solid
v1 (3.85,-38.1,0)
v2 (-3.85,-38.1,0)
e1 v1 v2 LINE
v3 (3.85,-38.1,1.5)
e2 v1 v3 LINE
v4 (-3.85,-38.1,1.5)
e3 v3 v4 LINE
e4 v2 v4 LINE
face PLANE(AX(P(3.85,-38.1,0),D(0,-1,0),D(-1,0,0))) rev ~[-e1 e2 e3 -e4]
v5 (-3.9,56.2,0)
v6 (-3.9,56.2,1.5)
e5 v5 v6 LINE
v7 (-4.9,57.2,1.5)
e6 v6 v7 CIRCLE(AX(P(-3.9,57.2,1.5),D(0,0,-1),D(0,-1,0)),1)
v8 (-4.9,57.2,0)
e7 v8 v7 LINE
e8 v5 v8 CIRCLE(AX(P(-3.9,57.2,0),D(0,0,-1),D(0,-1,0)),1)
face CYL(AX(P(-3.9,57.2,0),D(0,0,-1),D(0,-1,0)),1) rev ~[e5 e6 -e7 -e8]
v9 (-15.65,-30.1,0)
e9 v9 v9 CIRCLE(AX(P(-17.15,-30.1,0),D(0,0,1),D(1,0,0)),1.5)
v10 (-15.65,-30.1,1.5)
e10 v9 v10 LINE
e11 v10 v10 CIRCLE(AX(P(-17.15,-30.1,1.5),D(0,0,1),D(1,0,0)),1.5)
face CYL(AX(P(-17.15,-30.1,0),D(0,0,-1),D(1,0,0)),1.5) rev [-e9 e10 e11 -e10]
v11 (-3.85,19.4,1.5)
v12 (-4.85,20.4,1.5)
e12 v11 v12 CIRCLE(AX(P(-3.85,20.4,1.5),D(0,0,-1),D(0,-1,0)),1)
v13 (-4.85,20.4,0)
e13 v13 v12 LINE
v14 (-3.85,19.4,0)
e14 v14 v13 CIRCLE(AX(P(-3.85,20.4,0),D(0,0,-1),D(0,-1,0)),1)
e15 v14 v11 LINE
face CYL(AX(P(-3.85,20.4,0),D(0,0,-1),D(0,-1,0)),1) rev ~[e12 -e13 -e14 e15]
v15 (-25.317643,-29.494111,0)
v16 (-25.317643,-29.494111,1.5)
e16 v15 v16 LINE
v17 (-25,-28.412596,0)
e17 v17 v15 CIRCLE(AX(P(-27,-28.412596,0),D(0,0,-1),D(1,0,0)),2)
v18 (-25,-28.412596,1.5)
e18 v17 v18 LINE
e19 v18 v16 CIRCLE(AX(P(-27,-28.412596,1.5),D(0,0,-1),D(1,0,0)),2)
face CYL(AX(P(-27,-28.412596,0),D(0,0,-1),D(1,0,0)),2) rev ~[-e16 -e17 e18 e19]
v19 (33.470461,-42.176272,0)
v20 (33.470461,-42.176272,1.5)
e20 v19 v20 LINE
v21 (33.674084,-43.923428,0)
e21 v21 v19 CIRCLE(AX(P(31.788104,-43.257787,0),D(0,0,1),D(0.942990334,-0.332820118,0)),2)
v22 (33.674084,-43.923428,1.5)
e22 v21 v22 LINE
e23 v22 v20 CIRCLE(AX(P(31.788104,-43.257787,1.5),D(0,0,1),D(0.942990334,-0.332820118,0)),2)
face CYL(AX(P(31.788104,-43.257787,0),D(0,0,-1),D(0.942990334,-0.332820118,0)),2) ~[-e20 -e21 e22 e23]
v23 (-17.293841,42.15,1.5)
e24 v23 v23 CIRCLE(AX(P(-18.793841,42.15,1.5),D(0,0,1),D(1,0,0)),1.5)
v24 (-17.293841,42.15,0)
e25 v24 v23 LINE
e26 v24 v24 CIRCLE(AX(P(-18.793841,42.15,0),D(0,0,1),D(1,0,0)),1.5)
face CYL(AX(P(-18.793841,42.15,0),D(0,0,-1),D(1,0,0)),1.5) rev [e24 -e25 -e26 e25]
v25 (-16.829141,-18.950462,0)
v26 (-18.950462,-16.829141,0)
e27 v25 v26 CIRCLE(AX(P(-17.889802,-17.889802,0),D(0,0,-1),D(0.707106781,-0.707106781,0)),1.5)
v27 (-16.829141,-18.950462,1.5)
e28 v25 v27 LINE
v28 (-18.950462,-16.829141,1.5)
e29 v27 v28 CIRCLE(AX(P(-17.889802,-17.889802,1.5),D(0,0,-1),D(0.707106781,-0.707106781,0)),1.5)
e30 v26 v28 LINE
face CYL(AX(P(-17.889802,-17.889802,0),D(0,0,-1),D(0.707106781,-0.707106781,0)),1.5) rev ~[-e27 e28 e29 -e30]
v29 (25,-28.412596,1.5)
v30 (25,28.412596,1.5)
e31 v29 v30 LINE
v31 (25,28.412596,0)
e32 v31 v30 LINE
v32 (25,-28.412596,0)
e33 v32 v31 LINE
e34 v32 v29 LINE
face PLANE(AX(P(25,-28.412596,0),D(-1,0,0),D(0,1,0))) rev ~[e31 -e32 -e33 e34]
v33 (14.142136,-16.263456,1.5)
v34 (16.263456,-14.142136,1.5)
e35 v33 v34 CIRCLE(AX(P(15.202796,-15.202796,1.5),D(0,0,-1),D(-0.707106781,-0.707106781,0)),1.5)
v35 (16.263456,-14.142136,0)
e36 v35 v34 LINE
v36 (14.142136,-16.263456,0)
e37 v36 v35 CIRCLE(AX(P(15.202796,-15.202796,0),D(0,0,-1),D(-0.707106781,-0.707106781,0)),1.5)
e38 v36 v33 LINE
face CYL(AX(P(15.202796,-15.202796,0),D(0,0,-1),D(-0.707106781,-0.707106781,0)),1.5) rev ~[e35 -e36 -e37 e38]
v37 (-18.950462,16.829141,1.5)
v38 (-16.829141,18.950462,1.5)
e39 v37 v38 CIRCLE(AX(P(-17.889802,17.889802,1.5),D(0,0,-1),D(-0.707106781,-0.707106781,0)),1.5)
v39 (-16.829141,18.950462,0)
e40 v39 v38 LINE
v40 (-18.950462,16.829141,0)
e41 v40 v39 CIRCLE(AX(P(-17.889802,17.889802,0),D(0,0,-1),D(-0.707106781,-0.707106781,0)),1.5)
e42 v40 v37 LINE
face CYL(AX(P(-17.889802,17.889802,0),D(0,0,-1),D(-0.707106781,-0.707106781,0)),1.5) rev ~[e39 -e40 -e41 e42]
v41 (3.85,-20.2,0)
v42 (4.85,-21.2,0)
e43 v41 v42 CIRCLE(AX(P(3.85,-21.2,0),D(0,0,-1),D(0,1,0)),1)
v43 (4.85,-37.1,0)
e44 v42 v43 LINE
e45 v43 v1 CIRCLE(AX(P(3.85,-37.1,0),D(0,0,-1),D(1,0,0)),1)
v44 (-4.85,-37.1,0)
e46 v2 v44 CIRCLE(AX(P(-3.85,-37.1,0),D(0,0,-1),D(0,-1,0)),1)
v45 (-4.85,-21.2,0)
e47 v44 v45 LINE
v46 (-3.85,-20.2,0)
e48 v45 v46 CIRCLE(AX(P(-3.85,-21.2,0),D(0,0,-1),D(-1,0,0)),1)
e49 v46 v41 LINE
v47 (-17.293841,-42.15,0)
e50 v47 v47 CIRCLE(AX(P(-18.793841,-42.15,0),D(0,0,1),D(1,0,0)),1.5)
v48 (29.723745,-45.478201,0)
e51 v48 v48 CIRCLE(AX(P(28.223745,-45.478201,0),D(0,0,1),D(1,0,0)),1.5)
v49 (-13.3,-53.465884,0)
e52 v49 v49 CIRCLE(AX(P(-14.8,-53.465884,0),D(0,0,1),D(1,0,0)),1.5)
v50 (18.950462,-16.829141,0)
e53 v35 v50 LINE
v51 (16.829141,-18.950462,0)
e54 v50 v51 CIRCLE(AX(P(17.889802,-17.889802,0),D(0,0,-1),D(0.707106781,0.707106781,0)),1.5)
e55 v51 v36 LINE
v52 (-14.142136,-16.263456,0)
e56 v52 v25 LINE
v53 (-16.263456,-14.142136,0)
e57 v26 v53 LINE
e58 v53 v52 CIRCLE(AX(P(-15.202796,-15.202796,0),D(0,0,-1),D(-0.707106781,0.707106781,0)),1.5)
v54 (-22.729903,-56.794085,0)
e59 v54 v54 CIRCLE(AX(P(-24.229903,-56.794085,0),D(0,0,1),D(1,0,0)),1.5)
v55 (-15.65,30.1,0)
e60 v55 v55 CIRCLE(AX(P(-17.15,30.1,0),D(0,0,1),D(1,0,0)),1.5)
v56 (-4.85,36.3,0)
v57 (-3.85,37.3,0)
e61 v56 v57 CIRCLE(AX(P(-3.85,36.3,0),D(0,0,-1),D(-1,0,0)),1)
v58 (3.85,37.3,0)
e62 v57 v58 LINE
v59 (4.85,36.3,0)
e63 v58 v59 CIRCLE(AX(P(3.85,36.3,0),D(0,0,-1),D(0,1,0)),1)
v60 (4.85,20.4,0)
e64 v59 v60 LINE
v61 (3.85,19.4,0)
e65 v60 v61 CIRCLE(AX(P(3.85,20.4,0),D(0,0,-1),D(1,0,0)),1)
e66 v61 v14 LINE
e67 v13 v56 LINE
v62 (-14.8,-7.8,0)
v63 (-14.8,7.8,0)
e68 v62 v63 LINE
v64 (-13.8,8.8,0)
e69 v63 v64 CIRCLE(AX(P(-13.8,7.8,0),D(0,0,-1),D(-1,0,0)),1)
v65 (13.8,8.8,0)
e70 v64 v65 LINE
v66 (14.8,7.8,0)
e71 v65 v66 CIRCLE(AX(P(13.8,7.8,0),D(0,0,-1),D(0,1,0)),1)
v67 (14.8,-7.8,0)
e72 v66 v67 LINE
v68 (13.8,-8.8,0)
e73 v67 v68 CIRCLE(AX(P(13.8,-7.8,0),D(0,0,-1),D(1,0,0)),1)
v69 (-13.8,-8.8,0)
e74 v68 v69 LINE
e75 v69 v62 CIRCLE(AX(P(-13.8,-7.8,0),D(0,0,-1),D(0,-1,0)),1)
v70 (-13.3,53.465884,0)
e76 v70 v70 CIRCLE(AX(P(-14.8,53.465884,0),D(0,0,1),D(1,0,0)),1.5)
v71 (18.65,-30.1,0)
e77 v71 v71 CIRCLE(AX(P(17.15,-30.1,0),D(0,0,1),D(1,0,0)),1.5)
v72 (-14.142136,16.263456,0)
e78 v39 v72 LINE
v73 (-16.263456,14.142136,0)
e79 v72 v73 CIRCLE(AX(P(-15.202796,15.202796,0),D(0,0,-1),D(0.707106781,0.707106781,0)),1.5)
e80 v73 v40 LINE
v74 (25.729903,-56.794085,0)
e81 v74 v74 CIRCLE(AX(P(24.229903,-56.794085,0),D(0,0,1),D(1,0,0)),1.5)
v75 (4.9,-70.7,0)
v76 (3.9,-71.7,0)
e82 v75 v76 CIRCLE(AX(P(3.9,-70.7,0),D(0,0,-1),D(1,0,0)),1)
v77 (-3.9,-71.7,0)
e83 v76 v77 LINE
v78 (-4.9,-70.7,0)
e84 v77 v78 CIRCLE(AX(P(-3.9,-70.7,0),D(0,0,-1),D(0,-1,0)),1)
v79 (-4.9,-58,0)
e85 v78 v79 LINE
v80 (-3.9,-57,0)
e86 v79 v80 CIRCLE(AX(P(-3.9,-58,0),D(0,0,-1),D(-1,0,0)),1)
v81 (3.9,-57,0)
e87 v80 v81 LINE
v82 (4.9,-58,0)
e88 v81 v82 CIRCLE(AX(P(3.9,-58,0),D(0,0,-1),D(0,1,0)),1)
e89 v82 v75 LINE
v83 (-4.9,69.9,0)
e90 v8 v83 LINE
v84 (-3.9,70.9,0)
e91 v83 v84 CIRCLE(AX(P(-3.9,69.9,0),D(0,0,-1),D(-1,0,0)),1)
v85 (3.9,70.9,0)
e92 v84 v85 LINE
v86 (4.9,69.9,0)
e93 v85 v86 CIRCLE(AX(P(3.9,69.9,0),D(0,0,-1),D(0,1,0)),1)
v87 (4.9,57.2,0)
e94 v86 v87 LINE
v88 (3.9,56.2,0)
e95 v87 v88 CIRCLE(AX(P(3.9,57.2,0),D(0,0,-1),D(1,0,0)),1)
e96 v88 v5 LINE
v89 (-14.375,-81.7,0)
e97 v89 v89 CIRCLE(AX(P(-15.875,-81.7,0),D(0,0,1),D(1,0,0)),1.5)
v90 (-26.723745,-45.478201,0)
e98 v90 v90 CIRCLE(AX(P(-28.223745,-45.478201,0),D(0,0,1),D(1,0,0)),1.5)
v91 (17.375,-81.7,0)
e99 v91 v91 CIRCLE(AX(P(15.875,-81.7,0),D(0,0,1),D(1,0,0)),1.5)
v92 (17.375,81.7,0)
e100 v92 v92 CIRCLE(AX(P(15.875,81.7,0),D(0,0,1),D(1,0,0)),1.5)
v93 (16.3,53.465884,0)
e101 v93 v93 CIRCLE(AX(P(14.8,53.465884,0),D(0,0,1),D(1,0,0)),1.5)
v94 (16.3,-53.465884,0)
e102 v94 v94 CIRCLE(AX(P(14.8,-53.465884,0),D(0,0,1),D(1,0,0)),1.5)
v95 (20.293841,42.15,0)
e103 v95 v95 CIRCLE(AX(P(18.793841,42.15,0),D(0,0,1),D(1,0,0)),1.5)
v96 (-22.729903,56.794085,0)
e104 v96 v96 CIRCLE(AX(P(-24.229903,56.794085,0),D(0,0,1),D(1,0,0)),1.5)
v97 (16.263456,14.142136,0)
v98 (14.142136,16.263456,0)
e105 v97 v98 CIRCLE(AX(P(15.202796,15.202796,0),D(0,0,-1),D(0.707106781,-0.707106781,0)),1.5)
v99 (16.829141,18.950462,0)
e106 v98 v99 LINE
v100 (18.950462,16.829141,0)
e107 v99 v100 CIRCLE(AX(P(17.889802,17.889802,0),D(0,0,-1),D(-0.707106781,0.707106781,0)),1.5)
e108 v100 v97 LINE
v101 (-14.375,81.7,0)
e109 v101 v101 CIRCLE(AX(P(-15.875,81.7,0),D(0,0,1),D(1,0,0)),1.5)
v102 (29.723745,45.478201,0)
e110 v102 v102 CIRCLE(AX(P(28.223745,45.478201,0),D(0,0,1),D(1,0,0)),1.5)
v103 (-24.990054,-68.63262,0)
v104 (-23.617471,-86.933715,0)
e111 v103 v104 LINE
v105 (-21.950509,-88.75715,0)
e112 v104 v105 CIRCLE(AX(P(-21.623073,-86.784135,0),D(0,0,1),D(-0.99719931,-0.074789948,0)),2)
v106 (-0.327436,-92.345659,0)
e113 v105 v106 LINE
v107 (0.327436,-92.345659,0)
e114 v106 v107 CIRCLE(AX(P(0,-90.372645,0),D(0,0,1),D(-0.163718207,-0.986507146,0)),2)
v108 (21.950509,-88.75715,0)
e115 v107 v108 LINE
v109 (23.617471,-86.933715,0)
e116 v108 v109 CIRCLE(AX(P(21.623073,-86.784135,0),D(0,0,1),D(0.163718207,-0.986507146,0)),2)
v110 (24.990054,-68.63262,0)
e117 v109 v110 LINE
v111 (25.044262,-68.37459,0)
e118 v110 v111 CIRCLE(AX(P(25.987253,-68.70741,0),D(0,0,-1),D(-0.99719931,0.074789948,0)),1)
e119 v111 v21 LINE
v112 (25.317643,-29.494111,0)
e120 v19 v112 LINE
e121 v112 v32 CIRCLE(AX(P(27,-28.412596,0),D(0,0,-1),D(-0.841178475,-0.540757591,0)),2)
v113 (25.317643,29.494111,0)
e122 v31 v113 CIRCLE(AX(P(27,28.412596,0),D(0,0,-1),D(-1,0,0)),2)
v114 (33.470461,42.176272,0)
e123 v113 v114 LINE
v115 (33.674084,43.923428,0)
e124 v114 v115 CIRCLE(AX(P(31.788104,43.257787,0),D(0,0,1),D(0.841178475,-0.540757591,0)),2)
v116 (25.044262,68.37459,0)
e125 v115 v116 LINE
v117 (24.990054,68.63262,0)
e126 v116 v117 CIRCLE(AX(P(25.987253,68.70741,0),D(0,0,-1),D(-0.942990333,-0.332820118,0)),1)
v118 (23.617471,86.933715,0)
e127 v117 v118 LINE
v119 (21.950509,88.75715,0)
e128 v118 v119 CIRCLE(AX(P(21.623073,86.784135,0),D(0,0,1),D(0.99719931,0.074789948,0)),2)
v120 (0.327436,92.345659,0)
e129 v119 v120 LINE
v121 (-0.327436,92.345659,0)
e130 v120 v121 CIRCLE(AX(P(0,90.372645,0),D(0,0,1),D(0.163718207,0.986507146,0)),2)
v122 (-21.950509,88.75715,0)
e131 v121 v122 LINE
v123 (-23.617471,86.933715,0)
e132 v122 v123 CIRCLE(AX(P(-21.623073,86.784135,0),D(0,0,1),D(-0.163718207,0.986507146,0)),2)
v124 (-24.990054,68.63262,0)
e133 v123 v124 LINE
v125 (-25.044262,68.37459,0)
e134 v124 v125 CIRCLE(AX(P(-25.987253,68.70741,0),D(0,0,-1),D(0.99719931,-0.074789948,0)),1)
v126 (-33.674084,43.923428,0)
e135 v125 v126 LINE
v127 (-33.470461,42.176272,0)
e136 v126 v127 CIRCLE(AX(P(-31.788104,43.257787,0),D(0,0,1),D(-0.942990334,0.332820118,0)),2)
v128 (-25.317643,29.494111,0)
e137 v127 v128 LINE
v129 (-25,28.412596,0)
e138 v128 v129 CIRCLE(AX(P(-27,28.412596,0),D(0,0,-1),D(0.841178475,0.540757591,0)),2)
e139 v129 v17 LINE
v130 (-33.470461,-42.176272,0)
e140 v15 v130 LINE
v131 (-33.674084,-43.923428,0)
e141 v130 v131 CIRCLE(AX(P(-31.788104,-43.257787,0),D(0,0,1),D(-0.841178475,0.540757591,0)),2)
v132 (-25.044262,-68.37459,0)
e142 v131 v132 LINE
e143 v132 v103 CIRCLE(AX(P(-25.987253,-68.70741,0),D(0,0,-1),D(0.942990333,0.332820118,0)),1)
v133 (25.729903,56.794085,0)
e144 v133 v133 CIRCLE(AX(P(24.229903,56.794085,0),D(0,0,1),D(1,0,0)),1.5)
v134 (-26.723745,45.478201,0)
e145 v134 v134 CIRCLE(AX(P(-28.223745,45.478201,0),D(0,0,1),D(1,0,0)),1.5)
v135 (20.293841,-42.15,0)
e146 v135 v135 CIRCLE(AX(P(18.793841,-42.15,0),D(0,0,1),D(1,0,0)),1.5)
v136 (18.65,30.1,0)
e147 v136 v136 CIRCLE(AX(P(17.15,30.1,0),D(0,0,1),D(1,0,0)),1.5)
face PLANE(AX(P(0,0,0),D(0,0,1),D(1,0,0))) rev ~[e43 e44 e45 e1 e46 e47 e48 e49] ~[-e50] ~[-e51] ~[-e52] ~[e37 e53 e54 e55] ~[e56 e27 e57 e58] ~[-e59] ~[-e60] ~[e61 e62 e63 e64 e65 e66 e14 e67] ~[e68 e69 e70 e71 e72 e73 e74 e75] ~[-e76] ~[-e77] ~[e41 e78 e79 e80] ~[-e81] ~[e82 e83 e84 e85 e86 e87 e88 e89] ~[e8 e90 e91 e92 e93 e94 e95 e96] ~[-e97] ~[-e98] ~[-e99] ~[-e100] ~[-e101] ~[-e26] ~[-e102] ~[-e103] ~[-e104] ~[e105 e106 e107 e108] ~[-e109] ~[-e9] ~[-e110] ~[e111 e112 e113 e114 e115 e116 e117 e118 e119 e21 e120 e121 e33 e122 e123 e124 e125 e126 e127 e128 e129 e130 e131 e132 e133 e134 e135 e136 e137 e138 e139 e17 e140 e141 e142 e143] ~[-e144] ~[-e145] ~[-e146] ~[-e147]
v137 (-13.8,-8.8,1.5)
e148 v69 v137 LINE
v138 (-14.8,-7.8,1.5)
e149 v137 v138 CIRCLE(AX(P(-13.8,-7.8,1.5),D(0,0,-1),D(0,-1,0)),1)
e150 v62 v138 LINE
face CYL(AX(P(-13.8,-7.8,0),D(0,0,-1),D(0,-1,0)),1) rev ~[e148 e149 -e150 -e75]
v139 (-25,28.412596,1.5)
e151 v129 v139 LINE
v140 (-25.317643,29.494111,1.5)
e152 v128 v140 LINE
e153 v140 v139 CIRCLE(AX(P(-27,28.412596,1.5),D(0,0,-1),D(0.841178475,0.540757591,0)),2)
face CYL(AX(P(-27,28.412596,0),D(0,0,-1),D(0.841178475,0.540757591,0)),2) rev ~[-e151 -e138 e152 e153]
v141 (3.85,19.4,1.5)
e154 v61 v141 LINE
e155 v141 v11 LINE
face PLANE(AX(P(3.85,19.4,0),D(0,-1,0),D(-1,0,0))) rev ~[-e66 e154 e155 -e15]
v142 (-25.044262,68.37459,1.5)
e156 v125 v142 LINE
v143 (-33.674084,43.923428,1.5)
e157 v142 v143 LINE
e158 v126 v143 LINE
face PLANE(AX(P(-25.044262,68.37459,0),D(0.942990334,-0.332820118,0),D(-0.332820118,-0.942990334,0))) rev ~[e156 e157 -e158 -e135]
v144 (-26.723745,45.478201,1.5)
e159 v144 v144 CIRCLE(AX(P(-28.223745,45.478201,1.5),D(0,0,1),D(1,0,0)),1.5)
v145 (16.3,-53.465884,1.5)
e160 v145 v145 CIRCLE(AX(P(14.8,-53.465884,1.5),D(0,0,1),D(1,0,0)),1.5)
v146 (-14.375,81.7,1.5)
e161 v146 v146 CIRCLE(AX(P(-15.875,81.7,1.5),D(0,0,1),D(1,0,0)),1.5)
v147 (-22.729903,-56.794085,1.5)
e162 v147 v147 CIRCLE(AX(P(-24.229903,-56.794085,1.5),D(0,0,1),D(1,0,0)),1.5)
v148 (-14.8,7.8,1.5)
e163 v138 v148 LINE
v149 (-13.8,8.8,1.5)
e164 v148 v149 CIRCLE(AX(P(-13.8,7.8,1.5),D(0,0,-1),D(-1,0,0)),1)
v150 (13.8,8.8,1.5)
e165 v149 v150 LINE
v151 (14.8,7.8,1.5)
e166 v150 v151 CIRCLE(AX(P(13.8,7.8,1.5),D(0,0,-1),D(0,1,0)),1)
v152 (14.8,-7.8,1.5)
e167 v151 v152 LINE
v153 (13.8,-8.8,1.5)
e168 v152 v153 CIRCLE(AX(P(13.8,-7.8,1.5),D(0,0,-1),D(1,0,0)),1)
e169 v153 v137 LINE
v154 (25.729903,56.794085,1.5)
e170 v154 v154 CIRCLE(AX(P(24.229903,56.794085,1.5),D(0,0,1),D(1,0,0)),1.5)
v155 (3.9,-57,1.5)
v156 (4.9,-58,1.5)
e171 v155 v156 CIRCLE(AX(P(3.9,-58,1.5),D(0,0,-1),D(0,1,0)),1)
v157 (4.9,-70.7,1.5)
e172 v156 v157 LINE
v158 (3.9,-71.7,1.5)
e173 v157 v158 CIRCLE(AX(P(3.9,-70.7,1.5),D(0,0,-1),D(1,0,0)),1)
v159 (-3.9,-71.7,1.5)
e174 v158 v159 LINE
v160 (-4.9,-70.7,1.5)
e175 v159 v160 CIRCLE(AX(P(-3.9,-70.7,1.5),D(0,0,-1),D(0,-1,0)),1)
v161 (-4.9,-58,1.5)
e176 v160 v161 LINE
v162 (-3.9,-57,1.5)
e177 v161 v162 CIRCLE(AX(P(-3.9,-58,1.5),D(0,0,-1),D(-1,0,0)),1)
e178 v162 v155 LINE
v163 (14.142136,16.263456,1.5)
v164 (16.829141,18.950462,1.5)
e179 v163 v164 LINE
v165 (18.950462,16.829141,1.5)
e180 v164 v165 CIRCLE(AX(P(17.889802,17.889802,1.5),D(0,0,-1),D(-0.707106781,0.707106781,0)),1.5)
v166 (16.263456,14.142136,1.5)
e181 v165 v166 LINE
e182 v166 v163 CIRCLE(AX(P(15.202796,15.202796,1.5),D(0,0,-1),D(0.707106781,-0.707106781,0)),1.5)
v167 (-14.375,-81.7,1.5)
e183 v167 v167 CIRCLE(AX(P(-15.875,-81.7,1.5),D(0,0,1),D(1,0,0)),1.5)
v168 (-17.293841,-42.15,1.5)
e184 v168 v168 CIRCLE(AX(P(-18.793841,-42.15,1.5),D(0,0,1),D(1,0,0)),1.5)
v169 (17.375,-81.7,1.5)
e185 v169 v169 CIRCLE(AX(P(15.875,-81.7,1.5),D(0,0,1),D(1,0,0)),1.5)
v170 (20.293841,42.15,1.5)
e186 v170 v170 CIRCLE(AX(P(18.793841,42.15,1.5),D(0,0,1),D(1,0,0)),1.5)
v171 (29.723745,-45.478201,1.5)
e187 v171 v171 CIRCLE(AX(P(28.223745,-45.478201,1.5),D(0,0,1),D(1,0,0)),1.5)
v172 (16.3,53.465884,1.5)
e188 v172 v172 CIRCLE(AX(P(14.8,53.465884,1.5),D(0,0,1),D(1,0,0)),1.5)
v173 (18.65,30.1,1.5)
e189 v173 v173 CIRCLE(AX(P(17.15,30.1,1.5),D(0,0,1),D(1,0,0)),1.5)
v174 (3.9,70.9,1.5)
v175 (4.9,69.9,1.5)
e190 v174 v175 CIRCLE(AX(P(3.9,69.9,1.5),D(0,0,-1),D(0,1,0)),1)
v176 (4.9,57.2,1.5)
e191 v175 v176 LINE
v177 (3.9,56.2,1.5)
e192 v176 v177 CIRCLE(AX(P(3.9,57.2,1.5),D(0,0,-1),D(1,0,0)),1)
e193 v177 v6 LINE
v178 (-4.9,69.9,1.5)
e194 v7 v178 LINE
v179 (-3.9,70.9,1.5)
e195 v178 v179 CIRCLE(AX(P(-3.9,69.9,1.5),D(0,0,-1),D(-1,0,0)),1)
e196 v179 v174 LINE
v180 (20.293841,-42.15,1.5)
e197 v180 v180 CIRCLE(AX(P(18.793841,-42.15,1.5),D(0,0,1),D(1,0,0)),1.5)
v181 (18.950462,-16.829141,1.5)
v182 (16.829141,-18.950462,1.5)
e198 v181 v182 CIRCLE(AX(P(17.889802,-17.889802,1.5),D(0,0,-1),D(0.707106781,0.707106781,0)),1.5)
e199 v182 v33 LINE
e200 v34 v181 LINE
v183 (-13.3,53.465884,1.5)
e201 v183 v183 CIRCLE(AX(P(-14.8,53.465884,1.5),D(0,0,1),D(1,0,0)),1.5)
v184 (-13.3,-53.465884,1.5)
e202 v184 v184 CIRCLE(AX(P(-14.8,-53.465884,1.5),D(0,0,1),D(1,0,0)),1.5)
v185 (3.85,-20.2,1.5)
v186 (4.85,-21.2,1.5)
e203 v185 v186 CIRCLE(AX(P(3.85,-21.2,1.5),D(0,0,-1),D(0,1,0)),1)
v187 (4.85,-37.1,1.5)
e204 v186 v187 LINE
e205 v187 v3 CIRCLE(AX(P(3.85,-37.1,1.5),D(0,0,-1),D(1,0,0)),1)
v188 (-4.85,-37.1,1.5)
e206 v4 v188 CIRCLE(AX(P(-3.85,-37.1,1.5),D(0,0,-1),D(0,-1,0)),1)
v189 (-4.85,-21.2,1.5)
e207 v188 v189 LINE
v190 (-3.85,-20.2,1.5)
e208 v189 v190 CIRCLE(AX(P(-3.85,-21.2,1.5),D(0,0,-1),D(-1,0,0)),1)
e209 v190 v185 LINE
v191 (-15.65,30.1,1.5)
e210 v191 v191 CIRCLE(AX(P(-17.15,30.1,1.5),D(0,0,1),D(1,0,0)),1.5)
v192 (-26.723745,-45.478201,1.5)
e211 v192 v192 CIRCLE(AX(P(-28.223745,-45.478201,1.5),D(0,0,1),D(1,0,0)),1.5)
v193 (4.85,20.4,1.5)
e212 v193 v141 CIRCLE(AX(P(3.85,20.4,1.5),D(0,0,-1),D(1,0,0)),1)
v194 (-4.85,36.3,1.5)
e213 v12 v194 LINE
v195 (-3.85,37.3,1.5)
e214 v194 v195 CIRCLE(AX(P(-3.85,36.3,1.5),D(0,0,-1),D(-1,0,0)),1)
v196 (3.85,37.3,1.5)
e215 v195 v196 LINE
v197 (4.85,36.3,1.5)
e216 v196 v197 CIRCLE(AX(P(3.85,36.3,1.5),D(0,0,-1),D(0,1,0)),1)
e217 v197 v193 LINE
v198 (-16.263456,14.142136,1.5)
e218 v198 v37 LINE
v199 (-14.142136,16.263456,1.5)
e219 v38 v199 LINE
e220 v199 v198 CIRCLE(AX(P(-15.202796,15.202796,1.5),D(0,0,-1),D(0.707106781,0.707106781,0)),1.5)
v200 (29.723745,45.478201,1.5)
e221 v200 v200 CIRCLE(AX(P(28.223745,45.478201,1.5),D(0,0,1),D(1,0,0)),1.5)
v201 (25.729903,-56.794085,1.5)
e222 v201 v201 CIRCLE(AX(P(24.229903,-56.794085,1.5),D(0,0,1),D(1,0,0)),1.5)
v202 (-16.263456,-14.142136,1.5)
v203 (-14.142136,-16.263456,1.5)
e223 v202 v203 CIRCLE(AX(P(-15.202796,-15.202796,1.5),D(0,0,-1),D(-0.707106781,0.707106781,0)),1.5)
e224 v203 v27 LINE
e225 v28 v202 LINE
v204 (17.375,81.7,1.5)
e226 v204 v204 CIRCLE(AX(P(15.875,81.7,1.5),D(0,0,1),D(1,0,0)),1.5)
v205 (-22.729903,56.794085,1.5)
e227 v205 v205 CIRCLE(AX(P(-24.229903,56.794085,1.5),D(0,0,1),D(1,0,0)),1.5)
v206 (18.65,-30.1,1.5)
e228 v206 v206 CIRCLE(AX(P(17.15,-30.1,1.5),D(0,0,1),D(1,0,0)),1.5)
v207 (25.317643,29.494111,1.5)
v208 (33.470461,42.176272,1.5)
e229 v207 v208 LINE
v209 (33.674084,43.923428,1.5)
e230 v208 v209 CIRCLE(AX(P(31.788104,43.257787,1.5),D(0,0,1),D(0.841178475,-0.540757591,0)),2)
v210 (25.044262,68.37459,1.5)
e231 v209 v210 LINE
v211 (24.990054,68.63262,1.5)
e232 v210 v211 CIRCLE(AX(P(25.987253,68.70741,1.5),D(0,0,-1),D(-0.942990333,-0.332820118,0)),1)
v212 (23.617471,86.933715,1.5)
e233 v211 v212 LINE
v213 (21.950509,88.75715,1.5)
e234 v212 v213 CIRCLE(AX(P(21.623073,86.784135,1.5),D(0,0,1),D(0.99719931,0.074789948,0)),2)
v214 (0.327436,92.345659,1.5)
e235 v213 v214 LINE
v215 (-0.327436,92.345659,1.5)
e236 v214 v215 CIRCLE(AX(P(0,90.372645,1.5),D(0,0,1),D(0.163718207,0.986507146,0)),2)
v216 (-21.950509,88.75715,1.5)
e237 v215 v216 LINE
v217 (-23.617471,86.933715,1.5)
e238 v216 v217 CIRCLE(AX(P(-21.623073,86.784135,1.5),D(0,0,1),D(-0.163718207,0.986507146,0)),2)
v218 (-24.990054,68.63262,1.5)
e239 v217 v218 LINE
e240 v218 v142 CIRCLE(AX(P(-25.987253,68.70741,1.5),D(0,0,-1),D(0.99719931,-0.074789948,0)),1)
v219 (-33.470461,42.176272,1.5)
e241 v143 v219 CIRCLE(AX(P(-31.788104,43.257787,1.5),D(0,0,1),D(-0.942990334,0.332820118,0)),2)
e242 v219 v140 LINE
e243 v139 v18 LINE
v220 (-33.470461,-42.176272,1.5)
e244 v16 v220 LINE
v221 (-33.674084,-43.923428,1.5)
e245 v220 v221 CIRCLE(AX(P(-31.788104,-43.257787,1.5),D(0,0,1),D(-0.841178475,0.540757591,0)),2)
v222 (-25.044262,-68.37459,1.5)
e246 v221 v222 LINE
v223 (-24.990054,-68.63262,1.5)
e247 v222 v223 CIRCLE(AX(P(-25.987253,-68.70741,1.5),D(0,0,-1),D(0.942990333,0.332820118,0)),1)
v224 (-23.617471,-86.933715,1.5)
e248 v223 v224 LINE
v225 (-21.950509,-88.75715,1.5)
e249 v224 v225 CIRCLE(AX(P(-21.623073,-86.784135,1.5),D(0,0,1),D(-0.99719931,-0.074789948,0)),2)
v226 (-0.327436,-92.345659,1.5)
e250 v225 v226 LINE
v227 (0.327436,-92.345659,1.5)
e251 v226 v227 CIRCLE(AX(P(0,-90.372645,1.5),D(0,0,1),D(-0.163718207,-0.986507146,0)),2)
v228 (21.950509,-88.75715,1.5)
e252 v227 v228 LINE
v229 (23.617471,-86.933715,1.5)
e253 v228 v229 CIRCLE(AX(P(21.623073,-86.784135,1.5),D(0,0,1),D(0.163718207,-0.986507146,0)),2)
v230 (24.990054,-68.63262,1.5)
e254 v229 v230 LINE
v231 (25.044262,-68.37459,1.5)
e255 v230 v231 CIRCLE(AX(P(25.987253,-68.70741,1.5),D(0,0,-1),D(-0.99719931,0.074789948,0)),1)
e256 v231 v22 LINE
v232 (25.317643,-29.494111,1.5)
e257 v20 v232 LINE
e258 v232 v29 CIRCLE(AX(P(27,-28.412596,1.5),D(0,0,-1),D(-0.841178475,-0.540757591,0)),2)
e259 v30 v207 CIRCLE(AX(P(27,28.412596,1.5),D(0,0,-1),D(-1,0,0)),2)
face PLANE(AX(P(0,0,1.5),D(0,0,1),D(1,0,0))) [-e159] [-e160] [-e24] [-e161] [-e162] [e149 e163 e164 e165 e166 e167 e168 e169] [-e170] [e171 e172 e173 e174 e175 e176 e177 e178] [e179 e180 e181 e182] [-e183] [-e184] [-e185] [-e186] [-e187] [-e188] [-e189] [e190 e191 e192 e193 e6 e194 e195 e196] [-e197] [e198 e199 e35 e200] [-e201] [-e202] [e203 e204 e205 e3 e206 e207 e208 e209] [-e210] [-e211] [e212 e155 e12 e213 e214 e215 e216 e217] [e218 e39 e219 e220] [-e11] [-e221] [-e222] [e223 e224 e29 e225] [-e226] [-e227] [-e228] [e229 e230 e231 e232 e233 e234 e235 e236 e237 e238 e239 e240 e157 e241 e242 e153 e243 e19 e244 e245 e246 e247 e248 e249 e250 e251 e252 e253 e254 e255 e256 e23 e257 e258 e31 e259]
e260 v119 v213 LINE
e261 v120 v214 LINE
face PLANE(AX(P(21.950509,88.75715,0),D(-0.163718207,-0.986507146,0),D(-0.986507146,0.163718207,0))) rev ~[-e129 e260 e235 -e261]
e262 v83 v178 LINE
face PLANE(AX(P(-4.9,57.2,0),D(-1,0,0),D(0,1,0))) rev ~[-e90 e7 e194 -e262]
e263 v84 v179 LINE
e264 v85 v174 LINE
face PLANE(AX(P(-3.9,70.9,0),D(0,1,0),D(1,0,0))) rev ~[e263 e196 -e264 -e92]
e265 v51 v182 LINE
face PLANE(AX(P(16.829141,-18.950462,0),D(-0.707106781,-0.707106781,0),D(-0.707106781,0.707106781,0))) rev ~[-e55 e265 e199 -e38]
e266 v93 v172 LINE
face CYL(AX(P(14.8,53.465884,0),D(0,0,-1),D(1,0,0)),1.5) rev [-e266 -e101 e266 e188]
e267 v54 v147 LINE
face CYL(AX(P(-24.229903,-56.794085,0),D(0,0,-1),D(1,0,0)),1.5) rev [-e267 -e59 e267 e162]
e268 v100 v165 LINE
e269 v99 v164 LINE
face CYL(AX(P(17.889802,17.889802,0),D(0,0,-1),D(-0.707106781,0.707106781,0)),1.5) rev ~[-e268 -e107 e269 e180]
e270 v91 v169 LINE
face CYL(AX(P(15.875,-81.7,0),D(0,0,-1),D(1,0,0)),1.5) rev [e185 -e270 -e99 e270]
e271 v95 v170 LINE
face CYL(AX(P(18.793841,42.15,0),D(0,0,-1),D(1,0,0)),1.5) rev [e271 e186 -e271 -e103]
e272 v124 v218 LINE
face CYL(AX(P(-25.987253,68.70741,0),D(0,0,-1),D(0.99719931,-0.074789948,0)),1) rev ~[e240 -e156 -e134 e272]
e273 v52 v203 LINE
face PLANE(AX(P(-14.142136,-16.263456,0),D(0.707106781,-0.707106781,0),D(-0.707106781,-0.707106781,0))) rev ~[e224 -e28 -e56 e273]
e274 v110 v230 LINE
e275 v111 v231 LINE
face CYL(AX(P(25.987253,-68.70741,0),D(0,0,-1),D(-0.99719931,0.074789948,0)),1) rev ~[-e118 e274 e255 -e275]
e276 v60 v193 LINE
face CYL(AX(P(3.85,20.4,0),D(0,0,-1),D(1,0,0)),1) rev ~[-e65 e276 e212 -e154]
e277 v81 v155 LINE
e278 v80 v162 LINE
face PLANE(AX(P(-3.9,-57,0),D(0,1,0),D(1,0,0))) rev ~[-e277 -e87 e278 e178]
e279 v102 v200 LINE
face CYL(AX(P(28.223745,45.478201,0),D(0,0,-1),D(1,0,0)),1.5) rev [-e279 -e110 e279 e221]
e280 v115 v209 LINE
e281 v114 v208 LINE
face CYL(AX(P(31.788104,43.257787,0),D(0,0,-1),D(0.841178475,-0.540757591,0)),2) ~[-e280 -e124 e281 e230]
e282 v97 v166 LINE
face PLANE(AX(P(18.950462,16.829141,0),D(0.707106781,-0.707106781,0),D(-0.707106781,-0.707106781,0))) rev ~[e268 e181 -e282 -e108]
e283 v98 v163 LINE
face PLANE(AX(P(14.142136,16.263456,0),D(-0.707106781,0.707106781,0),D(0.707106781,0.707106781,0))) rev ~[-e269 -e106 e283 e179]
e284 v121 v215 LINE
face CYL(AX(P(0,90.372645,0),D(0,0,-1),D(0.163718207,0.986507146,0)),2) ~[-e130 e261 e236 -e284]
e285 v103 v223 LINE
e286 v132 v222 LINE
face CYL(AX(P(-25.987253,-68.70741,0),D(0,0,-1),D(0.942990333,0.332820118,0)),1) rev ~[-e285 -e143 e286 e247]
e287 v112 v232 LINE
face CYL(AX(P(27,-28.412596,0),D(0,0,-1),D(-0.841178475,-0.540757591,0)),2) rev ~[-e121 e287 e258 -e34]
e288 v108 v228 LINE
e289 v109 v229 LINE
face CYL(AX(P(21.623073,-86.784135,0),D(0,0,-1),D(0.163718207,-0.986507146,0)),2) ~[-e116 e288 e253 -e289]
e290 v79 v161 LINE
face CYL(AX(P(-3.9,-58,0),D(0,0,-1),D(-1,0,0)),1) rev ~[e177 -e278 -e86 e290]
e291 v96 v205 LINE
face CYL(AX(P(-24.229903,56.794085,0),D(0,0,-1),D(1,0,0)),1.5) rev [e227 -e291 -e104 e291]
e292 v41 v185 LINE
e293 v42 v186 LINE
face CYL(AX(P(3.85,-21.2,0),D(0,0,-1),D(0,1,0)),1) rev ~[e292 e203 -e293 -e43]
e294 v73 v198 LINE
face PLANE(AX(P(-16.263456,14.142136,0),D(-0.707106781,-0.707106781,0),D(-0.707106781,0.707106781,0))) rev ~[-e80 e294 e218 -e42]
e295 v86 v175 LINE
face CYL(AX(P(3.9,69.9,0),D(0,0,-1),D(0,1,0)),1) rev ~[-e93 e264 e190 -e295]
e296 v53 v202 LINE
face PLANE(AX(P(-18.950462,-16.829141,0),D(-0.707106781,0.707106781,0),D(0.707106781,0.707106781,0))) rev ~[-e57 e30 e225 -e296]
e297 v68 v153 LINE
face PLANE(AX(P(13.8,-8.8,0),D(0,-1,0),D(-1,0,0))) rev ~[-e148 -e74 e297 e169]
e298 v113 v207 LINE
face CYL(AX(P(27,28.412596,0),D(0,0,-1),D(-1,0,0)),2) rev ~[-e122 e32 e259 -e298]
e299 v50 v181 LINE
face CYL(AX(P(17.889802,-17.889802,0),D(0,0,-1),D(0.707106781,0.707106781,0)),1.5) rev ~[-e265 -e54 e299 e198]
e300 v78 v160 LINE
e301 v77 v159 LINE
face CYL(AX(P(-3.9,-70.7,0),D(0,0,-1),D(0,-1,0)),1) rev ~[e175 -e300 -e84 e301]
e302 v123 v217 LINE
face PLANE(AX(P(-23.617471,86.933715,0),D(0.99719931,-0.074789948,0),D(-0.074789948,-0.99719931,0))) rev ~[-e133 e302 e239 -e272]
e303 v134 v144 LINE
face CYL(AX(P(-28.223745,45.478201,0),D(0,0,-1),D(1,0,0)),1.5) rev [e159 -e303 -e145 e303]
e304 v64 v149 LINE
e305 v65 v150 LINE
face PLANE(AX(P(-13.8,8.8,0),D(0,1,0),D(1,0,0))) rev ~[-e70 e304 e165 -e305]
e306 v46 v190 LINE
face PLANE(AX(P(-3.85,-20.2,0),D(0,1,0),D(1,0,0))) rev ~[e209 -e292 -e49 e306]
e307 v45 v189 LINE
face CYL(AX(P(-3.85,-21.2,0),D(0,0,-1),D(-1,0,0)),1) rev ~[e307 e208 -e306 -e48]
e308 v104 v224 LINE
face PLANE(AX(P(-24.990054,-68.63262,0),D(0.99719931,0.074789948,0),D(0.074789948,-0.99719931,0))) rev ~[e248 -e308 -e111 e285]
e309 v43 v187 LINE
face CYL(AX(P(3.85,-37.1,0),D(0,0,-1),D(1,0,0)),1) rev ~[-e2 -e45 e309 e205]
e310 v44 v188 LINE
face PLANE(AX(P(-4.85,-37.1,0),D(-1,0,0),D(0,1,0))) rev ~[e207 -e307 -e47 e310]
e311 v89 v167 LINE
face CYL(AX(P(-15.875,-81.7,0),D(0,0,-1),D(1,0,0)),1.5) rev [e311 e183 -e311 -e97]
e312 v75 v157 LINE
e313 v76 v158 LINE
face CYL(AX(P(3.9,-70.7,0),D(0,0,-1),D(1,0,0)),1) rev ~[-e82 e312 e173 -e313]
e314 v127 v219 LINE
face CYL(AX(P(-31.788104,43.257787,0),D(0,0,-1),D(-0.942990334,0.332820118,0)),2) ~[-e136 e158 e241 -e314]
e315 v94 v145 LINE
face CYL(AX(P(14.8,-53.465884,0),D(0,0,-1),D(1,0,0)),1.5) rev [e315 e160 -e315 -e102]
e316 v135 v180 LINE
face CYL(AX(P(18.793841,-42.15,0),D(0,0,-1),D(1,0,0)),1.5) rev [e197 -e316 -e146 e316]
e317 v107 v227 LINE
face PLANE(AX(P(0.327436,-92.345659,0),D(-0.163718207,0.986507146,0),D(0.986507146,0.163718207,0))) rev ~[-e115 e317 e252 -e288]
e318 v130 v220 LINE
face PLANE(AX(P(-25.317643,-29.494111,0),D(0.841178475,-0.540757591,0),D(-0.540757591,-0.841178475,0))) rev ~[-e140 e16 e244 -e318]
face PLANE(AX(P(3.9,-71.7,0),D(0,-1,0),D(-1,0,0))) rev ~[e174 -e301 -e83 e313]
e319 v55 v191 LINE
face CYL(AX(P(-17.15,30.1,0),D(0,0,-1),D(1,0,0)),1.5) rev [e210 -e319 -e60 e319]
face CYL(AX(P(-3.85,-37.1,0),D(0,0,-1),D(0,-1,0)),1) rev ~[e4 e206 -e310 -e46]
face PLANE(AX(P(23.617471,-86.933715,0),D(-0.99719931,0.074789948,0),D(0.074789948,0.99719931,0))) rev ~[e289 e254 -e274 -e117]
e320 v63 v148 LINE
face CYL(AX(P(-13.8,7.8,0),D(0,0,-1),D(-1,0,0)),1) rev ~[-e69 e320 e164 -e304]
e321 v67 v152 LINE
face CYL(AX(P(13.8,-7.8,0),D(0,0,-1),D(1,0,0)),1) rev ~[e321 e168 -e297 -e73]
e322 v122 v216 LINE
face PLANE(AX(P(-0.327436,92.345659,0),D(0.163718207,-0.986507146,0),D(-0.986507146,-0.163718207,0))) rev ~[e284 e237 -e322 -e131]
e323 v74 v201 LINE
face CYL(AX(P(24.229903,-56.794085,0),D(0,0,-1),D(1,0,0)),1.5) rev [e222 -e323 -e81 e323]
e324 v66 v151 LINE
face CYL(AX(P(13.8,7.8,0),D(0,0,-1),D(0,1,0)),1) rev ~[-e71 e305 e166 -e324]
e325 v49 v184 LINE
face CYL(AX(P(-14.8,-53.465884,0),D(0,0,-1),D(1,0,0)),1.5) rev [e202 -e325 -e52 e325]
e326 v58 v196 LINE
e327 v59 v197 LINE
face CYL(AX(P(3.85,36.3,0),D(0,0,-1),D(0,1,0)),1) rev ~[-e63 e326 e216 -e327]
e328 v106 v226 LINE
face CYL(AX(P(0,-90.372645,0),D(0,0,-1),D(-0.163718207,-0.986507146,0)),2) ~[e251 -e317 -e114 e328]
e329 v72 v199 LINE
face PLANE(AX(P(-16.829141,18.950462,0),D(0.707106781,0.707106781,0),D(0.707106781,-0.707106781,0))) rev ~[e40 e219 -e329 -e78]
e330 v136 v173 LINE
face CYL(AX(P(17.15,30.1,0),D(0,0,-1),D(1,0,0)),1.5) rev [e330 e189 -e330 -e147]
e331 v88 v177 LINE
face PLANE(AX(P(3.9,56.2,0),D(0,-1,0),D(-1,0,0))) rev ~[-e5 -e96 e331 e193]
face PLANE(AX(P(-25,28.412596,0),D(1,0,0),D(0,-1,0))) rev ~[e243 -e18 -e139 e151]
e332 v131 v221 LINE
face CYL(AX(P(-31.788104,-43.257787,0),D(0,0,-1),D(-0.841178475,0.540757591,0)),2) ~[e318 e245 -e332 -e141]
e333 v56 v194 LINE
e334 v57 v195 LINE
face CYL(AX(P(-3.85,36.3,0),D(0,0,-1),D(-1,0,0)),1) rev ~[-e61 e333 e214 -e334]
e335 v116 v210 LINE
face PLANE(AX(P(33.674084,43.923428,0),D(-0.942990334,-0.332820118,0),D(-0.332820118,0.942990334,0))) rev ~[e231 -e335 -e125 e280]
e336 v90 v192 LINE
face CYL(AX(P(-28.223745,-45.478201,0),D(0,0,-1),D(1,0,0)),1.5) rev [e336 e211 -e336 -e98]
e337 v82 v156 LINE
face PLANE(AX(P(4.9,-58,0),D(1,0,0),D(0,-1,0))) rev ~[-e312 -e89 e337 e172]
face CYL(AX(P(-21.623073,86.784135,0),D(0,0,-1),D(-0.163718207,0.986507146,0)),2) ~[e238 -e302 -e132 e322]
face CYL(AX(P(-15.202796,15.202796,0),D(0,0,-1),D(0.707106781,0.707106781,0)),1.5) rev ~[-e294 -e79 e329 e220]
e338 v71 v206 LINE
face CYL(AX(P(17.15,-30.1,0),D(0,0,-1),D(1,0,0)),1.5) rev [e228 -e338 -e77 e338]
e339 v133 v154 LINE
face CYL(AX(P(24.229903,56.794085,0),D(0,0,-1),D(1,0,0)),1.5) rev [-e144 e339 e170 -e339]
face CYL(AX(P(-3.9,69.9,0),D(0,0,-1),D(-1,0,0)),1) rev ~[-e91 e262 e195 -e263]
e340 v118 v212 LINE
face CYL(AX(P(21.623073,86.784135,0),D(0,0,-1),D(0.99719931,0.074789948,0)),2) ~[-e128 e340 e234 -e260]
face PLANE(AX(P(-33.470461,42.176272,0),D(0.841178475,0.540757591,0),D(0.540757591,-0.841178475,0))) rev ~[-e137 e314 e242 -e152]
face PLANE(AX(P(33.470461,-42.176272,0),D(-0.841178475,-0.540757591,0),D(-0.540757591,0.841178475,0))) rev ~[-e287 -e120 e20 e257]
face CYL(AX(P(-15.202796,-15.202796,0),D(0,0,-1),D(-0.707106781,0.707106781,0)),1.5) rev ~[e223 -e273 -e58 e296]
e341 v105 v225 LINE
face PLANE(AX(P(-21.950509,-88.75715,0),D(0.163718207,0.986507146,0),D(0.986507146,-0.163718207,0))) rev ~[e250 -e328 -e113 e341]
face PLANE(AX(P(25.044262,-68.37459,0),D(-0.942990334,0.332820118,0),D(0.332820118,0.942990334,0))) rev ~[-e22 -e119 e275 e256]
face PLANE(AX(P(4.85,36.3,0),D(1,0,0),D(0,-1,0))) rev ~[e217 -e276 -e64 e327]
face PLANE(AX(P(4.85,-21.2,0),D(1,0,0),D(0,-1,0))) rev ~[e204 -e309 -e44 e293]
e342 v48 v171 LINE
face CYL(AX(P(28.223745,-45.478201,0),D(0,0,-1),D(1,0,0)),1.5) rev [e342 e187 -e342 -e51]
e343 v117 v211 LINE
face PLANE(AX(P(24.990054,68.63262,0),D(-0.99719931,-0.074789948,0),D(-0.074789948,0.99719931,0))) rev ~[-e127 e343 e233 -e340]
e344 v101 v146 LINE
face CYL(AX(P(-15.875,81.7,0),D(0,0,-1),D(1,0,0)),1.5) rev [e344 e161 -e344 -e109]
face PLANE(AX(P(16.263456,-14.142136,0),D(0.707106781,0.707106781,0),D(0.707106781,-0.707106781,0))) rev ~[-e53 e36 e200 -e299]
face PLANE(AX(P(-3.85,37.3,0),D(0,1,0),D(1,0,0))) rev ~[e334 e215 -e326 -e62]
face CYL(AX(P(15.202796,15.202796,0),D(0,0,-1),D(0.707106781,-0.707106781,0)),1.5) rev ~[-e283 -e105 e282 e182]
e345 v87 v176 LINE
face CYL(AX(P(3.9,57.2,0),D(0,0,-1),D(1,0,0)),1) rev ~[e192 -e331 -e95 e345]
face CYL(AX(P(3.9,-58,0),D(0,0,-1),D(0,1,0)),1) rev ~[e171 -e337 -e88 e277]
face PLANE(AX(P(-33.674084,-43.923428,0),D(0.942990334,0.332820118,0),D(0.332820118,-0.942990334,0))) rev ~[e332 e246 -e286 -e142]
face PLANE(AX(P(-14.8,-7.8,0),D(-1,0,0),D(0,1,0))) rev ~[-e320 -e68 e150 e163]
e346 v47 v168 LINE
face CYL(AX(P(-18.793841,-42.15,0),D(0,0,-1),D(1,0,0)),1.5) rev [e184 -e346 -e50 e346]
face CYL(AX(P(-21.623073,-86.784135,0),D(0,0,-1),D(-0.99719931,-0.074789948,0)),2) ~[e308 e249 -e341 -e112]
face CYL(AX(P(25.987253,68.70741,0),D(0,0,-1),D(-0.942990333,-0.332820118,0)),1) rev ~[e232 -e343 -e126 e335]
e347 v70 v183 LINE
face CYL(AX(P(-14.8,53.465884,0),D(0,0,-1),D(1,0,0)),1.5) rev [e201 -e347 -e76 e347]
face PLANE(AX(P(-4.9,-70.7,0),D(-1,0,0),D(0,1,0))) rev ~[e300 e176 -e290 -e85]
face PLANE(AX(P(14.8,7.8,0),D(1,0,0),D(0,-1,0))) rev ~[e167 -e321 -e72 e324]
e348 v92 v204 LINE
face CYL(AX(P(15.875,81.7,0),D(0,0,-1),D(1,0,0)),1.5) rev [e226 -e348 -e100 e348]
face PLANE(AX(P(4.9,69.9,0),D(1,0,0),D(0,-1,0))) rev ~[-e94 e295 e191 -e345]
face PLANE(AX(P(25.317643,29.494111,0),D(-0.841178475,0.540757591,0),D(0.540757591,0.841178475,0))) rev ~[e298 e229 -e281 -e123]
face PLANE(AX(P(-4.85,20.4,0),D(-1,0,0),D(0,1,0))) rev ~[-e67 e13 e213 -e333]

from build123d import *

# Parameters (mm, degrees)
F0_R     = 1.5
F1_DEPTH = 1.5


with BuildPart() as f1:
    # F0 (on Top) → F1 (new body)
    with BuildSketch(Plane.XY):
        with BuildLine():
            ThreePointArc((-25.3176430492, 29.4941114099), (-25.0810531663, 28.9761945322), (-25, 28.4125962273))
            Line((-25, 28.4125962273), (-25, -28.4125962273))
            ThreePointArc((-25, -28.4125962273), (-25.0810531663, -28.9761945322), (-25.3176430492, -29.4941114099))
            Line((-25.3176430492, -29.4941114099), (-33.4704606701, -42.1762721535))
            ThreePointArc((-33.4704606701, -42.1762721535), (-33.774657608, -43.026262721), (-33.6740843865, -43.9234275716))
            Line((-33.6740843865, -43.9234275716), (-25.0442624935, -68.3745896019))
            ThreePointArc((-25.0442624935, -68.3745896019), (-25.0086166049, -68.5018102431), (-24.9900535171, -68.6326197714))
            Line((-24.9900535171, -68.6326197714), (-23.6174713638, -86.9337151489))
            ThreePointArc((-23.6174713638, -86.9337151489), (-23.0992020506, -88.1335952445), (-21.9505091584, -88.7571495439))
            Line((-21.9505091584, -88.7571495439), (-0.3274364143, -92.3456594887))
            ThreePointArc((-0.3274364143, -92.3456594887), (0, -92.3726451972), (0.3274364143, -92.3456594887))
            Line((0.3274364143, -92.3456594887), (21.9505091584, -88.7571495439))
            ThreePointArc((21.9505091584, -88.7571495439), (23.0992020506, -88.1335952445), (23.6174713638, -86.9337151489))
            Line((23.6174713638, -86.9337151489), (24.9900535171, -68.6326197714))
            ThreePointArc((24.9900535171, -68.6326197714), (25.0086166049, -68.5018102431), (25.0442624935, -68.3745896019))
            Line((25.0442624935, -68.3745896019), (33.6740843865, -43.9234275716))
            ThreePointArc((33.6740843865, -43.9234275716), (33.774657608, -43.026262721), (33.4704606701, -42.1762721535))
            Line((33.4704606701, -42.1762721535), (25.3176430492, -29.4941114099))
            ThreePointArc((25.3176430492, -29.4941114099), (25.0810531663, -28.9761945322), (25, -28.4125962273))
            Line((25, -28.4125962273), (25, 28.4125962273))
            ThreePointArc((25, 28.4125962273), (25.0810531663, 28.9761945322), (25.3176430492, 29.4941114099))
            Line((25.3176430492, 29.4941114099), (33.4704606701, 42.1762721535))
            ThreePointArc((33.4704606701, 42.1762721535), (33.774657608, 43.026262721), (33.6740843865, 43.9234275716))
            Line((33.6740843865, 43.9234275716), (25.0442624935, 68.3745896019))
            ThreePointArc((25.0442624935, 68.3745896019), (25.0086166049, 68.5018102431), (24.9900535171, 68.6326197714))
            Line((24.9900535171, 68.6326197714), (23.6174713638, 86.9337151489))
            ThreePointArc((23.6174713638, 86.9337151489), (23.0992020506, 88.1335952445), (21.9505091584, 88.7571495439))
            Line((21.9505091584, 88.7571495439), (0.3274364143, 92.3456594887))
            ThreePointArc((0.3274364143, 92.3456594887), (0, 92.3726451972), (-0.3274364143, 92.3456594887))
            Line((-0.3274364143, 92.3456594887), (-21.9505091584, 88.7571495439))
            ThreePointArc((-21.9505091584, 88.7571495439), (-23.0992020506, 88.1335952445), (-23.6174713638, 86.9337151489))
            Line((-23.6174713638, 86.9337151489), (-24.9900535171, 68.6326197714))
            ThreePointArc((-24.9900535171, 68.6326197714), (-25.0086166049, 68.5018102431), (-25.0442624935, 68.3745896019))
            Line((-25.0442624935, 68.3745896019), (-33.6740843865, 43.9234275716))
            ThreePointArc((-33.6740843865, 43.9234275716), (-33.774657608, 43.026262721), (-33.4704606701, 42.1762721535))
            Line((-33.4704606701, 42.1762721535), (-25.3176430492, 29.4941114099))
        make_face()
        with Locations((-24.2299033358, -56.7940851803)):
            Circle(F0_R, mode=Mode.SUBTRACT)
        with Locations((-15.875, -81.7)):
            Circle(F0_R, mode=Mode.SUBTRACT)
        with Locations((-14.8, -53.465884003)):
            Circle(F0_R, mode=Mode.SUBTRACT)
        with Locations((-28.2237447487, -45.4782011774)):
            Circle(F0_R, mode=Mode.SUBTRACT)
        with Locations((-18.7938414128, -42.15)):
            Circle(F0_R, mode=Mode.SUBTRACT)
        with Locations((-17.15, -30.1)):
            Circle(F0_R, mode=Mode.SUBTRACT)
        with BuildLine():
            Line((-14.1421356237, -16.2634559673), (-16.8291413922, -18.9504617358))
            ThreePointArc((-16.8291413922, -18.9504617358), (-18.9504617358, -18.9504617358), (-18.9504617358, -16.8291413922))
            Line((-18.9504617358, -16.8291413922), (-16.2634559673, -14.1421356237))
            ThreePointArc((-16.2634559673, -14.1421356237), (-14.1421356237, -14.1421356237), (-14.1421356237, -16.2634559673))
        make_face(mode=Mode.SUBTRACT)
        with Locations((15.875, -81.7)):
            Circle(F0_R, mode=Mode.SUBTRACT)
        with BuildLine():
            Line((-3.9, -57), (3.9, -57))
            ThreePointArc((3.9, -57), (4.6071067812, -57.2928932188), (4.9, -58))
            Line((4.9, -58), (4.9, -70.7))
            ThreePointArc((4.9, -70.7), (4.6071067812, -71.4071067812), (3.9, -71.7))
            Line((3.9, -71.7), (-3.9, -71.7))
            ThreePointArc((-3.9, -71.7), (-4.6071067812, -71.4071067812), (-4.9, -70.7))
            Line((-4.9, -70.7), (-4.9, -58))
            ThreePointArc((-4.9, -58), (-4.6071067812, -57.2928932188), (-3.9, -57))
        make_face(mode=Mode.SUBTRACT)
        with Locations((14.8, -53.465884003)):
            Circle(F0_R, mode=Mode.SUBTRACT)
        with Locations((24.2299033358, -56.7940851803)):
            Circle(F0_R, mode=Mode.SUBTRACT)
        with BuildLine():
            ThreePointArc((3.85, -20.2), (4.5571067812, -20.4928932188), (4.85, -21.2))
            Line((4.85, -21.2), (4.85, -37.1))
            ThreePointArc((4.85, -37.1), (4.5571067812, -37.8071067812), (3.85, -38.1))
            Line((3.85, -38.1), (-3.85, -38.1))
            ThreePointArc((-3.85, -38.1), (-4.5571067812, -37.8071067812), (-4.85, -37.1))
            Line((-4.85, -37.1), (-4.85, -21.2))
            ThreePointArc((-4.85, -21.2), (-4.5571067812, -20.4928932188), (-3.85, -20.2))
            Line((-3.85, -20.2), (3.85, -20.2))
        make_face(mode=Mode.SUBTRACT)
        with BuildLine():
            Line((16.2634559673, -14.1421356237), (18.9504617358, -16.8291413922))
            ThreePointArc((18.9504617358, -16.8291413922), (18.9504617358, -18.9504617358), (16.8291413922, -18.9504617358))
            Line((16.8291413922, -18.9504617358), (14.1421356237, -16.2634559673))
            ThreePointArc((14.1421356237, -16.2634559673), (14.1421356237, -14.1421356237), (16.2634559673, -14.1421356237))
        make_face(mode=Mode.SUBTRACT)
        with Locations((18.7938414128, -42.15)):
            Circle(F0_R, mode=Mode.SUBTRACT)
        with Locations((17.15, -30.1)):
            Circle(F0_R, mode=Mode.SUBTRACT)
        with Locations((28.2237447487, -45.4782011774)):
            Circle(F0_R, mode=Mode.SUBTRACT)
        with Locations((-28.2237447487, 45.4782011774)):
            Circle(F0_R, mode=Mode.SUBTRACT)
        with Locations((-17.15, 30.1)):
            Circle(F0_R, mode=Mode.SUBTRACT)
        with Locations((-18.7938414128, 42.15)):
            Circle(F0_R, mode=Mode.SUBTRACT)
        with BuildLine():
            Line((-16.2634559673, 14.1421356237), (-18.9504617358, 16.8291413922))
            ThreePointArc((-18.9504617358, 16.8291413922), (-18.9504617358, 18.9504617358), (-16.8291413922, 18.9504617358))
            Line((-16.8291413922, 18.9504617358), (-14.1421356237, 16.2634559673))
            ThreePointArc((-14.1421356237, 16.2634559673), (-14.1421356237, 14.1421356237), (-16.2634559673, 14.1421356237))
        make_face(mode=Mode.SUBTRACT)
        with Locations((-24.2299033358, 56.7940851803)):
            Circle(F0_R, mode=Mode.SUBTRACT)
        with Locations((-14.8, 53.465884003)):
            Circle(F0_R, mode=Mode.SUBTRACT)
        with Locations((-15.875, 81.7)):
            Circle(F0_R, mode=Mode.SUBTRACT)
        with BuildLine():
            ThreePointArc((-14.8, 7.8), (-14.5071067812, 8.5071067812), (-13.8, 8.8))
            Line((-13.8, 8.8), (13.8, 8.8))
            ThreePointArc((13.8, 8.8), (14.5071067812, 8.5071067812), (14.8, 7.8))
            Line((14.8, 7.8), (14.8, -7.8))
            ThreePointArc((14.8, -7.8), (14.5071067812, -8.5071067812), (13.8, -8.8))
            Line((13.8, -8.8), (-13.8, -8.8))
            ThreePointArc((-13.8, -8.8), (-14.5071067812, -8.5071067812), (-14.8, -7.8))
            Line((-14.8, -7.8), (-14.8, 7.8))
        make_face(mode=Mode.SUBTRACT)
        with BuildLine():
            ThreePointArc((16.8291413922, 18.9504617358), (18.9504617358, 18.9504617358), (18.9504617358, 16.8291413922))
            Line((18.9504617358, 16.8291413922), (16.2634559673, 14.1421356237))
            ThreePointArc((16.2634559673, 14.1421356237), (14.1421356237, 14.1421356237), (14.1421356237, 16.2634559673))
            Line((14.1421356237, 16.2634559673), (16.8291413922, 18.9504617358))
        make_face(mode=Mode.SUBTRACT)
        with BuildLine():
            Line((3.85, 19.4), (-3.85, 19.4))
            ThreePointArc((-3.85, 19.4), (-4.5571067812, 19.6928932188), (-4.85, 20.4))
            Line((-4.85, 20.4), (-4.85, 36.3))
            ThreePointArc((-4.85, 36.3), (-4.5571067812, 37.0071067812), (-3.85, 37.3))
            Line((-3.85, 37.3), (3.85, 37.3))
            ThreePointArc((3.85, 37.3), (4.5571067812, 37.0071067812), (4.85, 36.3))
            Line((4.85, 36.3), (4.85, 20.4))
            ThreePointArc((4.85, 20.4), (4.5571067812, 19.6928932188), (3.85, 19.4))
        make_face(mode=Mode.SUBTRACT)
        with Locations((17.15, 30.1)):
            Circle(F0_R, mode=Mode.SUBTRACT)
        with Locations((18.7938414128, 42.15)):
            Circle(F0_R, mode=Mode.SUBTRACT)
        with Locations((28.2237447487, 45.4782011774)):
            Circle(F0_R, mode=Mode.SUBTRACT)
        with BuildLine():
            Line((3.9, 56.2), (-3.9, 56.2))
            ThreePointArc((-3.9, 56.2), (-4.6071067812, 56.4928932188), (-4.9, 57.2))
            Line((-4.9, 57.2), (-4.9, 69.9))
            ThreePointArc((-4.9, 69.9), (-4.6071067812, 70.6071067812), (-3.9, 70.9))
            Line((-3.9, 70.9), (3.9, 70.9))
            ThreePointArc((3.9, 70.9), (4.6071067812, 70.6071067812), (4.9, 69.9))
            Line((4.9, 69.9), (4.9, 57.2))
            ThreePointArc((4.9, 57.2), (4.6071067812, 56.4928932188), (3.9, 56.2))
        make_face(mode=Mode.SUBTRACT)
        with Locations((14.8, 53.465884003)):
            Circle(F0_R, mode=Mode.SUBTRACT)
        with Locations((15.875, 81.7)):
            Circle(F0_R, mode=Mode.SUBTRACT)
        with Locations((24.2299033358, 56.7940851803)):
            Circle(F0_R, mode=Mode.SUBTRACT)
    extrude(amount=F1_DEPTH)


solid = f1.part
